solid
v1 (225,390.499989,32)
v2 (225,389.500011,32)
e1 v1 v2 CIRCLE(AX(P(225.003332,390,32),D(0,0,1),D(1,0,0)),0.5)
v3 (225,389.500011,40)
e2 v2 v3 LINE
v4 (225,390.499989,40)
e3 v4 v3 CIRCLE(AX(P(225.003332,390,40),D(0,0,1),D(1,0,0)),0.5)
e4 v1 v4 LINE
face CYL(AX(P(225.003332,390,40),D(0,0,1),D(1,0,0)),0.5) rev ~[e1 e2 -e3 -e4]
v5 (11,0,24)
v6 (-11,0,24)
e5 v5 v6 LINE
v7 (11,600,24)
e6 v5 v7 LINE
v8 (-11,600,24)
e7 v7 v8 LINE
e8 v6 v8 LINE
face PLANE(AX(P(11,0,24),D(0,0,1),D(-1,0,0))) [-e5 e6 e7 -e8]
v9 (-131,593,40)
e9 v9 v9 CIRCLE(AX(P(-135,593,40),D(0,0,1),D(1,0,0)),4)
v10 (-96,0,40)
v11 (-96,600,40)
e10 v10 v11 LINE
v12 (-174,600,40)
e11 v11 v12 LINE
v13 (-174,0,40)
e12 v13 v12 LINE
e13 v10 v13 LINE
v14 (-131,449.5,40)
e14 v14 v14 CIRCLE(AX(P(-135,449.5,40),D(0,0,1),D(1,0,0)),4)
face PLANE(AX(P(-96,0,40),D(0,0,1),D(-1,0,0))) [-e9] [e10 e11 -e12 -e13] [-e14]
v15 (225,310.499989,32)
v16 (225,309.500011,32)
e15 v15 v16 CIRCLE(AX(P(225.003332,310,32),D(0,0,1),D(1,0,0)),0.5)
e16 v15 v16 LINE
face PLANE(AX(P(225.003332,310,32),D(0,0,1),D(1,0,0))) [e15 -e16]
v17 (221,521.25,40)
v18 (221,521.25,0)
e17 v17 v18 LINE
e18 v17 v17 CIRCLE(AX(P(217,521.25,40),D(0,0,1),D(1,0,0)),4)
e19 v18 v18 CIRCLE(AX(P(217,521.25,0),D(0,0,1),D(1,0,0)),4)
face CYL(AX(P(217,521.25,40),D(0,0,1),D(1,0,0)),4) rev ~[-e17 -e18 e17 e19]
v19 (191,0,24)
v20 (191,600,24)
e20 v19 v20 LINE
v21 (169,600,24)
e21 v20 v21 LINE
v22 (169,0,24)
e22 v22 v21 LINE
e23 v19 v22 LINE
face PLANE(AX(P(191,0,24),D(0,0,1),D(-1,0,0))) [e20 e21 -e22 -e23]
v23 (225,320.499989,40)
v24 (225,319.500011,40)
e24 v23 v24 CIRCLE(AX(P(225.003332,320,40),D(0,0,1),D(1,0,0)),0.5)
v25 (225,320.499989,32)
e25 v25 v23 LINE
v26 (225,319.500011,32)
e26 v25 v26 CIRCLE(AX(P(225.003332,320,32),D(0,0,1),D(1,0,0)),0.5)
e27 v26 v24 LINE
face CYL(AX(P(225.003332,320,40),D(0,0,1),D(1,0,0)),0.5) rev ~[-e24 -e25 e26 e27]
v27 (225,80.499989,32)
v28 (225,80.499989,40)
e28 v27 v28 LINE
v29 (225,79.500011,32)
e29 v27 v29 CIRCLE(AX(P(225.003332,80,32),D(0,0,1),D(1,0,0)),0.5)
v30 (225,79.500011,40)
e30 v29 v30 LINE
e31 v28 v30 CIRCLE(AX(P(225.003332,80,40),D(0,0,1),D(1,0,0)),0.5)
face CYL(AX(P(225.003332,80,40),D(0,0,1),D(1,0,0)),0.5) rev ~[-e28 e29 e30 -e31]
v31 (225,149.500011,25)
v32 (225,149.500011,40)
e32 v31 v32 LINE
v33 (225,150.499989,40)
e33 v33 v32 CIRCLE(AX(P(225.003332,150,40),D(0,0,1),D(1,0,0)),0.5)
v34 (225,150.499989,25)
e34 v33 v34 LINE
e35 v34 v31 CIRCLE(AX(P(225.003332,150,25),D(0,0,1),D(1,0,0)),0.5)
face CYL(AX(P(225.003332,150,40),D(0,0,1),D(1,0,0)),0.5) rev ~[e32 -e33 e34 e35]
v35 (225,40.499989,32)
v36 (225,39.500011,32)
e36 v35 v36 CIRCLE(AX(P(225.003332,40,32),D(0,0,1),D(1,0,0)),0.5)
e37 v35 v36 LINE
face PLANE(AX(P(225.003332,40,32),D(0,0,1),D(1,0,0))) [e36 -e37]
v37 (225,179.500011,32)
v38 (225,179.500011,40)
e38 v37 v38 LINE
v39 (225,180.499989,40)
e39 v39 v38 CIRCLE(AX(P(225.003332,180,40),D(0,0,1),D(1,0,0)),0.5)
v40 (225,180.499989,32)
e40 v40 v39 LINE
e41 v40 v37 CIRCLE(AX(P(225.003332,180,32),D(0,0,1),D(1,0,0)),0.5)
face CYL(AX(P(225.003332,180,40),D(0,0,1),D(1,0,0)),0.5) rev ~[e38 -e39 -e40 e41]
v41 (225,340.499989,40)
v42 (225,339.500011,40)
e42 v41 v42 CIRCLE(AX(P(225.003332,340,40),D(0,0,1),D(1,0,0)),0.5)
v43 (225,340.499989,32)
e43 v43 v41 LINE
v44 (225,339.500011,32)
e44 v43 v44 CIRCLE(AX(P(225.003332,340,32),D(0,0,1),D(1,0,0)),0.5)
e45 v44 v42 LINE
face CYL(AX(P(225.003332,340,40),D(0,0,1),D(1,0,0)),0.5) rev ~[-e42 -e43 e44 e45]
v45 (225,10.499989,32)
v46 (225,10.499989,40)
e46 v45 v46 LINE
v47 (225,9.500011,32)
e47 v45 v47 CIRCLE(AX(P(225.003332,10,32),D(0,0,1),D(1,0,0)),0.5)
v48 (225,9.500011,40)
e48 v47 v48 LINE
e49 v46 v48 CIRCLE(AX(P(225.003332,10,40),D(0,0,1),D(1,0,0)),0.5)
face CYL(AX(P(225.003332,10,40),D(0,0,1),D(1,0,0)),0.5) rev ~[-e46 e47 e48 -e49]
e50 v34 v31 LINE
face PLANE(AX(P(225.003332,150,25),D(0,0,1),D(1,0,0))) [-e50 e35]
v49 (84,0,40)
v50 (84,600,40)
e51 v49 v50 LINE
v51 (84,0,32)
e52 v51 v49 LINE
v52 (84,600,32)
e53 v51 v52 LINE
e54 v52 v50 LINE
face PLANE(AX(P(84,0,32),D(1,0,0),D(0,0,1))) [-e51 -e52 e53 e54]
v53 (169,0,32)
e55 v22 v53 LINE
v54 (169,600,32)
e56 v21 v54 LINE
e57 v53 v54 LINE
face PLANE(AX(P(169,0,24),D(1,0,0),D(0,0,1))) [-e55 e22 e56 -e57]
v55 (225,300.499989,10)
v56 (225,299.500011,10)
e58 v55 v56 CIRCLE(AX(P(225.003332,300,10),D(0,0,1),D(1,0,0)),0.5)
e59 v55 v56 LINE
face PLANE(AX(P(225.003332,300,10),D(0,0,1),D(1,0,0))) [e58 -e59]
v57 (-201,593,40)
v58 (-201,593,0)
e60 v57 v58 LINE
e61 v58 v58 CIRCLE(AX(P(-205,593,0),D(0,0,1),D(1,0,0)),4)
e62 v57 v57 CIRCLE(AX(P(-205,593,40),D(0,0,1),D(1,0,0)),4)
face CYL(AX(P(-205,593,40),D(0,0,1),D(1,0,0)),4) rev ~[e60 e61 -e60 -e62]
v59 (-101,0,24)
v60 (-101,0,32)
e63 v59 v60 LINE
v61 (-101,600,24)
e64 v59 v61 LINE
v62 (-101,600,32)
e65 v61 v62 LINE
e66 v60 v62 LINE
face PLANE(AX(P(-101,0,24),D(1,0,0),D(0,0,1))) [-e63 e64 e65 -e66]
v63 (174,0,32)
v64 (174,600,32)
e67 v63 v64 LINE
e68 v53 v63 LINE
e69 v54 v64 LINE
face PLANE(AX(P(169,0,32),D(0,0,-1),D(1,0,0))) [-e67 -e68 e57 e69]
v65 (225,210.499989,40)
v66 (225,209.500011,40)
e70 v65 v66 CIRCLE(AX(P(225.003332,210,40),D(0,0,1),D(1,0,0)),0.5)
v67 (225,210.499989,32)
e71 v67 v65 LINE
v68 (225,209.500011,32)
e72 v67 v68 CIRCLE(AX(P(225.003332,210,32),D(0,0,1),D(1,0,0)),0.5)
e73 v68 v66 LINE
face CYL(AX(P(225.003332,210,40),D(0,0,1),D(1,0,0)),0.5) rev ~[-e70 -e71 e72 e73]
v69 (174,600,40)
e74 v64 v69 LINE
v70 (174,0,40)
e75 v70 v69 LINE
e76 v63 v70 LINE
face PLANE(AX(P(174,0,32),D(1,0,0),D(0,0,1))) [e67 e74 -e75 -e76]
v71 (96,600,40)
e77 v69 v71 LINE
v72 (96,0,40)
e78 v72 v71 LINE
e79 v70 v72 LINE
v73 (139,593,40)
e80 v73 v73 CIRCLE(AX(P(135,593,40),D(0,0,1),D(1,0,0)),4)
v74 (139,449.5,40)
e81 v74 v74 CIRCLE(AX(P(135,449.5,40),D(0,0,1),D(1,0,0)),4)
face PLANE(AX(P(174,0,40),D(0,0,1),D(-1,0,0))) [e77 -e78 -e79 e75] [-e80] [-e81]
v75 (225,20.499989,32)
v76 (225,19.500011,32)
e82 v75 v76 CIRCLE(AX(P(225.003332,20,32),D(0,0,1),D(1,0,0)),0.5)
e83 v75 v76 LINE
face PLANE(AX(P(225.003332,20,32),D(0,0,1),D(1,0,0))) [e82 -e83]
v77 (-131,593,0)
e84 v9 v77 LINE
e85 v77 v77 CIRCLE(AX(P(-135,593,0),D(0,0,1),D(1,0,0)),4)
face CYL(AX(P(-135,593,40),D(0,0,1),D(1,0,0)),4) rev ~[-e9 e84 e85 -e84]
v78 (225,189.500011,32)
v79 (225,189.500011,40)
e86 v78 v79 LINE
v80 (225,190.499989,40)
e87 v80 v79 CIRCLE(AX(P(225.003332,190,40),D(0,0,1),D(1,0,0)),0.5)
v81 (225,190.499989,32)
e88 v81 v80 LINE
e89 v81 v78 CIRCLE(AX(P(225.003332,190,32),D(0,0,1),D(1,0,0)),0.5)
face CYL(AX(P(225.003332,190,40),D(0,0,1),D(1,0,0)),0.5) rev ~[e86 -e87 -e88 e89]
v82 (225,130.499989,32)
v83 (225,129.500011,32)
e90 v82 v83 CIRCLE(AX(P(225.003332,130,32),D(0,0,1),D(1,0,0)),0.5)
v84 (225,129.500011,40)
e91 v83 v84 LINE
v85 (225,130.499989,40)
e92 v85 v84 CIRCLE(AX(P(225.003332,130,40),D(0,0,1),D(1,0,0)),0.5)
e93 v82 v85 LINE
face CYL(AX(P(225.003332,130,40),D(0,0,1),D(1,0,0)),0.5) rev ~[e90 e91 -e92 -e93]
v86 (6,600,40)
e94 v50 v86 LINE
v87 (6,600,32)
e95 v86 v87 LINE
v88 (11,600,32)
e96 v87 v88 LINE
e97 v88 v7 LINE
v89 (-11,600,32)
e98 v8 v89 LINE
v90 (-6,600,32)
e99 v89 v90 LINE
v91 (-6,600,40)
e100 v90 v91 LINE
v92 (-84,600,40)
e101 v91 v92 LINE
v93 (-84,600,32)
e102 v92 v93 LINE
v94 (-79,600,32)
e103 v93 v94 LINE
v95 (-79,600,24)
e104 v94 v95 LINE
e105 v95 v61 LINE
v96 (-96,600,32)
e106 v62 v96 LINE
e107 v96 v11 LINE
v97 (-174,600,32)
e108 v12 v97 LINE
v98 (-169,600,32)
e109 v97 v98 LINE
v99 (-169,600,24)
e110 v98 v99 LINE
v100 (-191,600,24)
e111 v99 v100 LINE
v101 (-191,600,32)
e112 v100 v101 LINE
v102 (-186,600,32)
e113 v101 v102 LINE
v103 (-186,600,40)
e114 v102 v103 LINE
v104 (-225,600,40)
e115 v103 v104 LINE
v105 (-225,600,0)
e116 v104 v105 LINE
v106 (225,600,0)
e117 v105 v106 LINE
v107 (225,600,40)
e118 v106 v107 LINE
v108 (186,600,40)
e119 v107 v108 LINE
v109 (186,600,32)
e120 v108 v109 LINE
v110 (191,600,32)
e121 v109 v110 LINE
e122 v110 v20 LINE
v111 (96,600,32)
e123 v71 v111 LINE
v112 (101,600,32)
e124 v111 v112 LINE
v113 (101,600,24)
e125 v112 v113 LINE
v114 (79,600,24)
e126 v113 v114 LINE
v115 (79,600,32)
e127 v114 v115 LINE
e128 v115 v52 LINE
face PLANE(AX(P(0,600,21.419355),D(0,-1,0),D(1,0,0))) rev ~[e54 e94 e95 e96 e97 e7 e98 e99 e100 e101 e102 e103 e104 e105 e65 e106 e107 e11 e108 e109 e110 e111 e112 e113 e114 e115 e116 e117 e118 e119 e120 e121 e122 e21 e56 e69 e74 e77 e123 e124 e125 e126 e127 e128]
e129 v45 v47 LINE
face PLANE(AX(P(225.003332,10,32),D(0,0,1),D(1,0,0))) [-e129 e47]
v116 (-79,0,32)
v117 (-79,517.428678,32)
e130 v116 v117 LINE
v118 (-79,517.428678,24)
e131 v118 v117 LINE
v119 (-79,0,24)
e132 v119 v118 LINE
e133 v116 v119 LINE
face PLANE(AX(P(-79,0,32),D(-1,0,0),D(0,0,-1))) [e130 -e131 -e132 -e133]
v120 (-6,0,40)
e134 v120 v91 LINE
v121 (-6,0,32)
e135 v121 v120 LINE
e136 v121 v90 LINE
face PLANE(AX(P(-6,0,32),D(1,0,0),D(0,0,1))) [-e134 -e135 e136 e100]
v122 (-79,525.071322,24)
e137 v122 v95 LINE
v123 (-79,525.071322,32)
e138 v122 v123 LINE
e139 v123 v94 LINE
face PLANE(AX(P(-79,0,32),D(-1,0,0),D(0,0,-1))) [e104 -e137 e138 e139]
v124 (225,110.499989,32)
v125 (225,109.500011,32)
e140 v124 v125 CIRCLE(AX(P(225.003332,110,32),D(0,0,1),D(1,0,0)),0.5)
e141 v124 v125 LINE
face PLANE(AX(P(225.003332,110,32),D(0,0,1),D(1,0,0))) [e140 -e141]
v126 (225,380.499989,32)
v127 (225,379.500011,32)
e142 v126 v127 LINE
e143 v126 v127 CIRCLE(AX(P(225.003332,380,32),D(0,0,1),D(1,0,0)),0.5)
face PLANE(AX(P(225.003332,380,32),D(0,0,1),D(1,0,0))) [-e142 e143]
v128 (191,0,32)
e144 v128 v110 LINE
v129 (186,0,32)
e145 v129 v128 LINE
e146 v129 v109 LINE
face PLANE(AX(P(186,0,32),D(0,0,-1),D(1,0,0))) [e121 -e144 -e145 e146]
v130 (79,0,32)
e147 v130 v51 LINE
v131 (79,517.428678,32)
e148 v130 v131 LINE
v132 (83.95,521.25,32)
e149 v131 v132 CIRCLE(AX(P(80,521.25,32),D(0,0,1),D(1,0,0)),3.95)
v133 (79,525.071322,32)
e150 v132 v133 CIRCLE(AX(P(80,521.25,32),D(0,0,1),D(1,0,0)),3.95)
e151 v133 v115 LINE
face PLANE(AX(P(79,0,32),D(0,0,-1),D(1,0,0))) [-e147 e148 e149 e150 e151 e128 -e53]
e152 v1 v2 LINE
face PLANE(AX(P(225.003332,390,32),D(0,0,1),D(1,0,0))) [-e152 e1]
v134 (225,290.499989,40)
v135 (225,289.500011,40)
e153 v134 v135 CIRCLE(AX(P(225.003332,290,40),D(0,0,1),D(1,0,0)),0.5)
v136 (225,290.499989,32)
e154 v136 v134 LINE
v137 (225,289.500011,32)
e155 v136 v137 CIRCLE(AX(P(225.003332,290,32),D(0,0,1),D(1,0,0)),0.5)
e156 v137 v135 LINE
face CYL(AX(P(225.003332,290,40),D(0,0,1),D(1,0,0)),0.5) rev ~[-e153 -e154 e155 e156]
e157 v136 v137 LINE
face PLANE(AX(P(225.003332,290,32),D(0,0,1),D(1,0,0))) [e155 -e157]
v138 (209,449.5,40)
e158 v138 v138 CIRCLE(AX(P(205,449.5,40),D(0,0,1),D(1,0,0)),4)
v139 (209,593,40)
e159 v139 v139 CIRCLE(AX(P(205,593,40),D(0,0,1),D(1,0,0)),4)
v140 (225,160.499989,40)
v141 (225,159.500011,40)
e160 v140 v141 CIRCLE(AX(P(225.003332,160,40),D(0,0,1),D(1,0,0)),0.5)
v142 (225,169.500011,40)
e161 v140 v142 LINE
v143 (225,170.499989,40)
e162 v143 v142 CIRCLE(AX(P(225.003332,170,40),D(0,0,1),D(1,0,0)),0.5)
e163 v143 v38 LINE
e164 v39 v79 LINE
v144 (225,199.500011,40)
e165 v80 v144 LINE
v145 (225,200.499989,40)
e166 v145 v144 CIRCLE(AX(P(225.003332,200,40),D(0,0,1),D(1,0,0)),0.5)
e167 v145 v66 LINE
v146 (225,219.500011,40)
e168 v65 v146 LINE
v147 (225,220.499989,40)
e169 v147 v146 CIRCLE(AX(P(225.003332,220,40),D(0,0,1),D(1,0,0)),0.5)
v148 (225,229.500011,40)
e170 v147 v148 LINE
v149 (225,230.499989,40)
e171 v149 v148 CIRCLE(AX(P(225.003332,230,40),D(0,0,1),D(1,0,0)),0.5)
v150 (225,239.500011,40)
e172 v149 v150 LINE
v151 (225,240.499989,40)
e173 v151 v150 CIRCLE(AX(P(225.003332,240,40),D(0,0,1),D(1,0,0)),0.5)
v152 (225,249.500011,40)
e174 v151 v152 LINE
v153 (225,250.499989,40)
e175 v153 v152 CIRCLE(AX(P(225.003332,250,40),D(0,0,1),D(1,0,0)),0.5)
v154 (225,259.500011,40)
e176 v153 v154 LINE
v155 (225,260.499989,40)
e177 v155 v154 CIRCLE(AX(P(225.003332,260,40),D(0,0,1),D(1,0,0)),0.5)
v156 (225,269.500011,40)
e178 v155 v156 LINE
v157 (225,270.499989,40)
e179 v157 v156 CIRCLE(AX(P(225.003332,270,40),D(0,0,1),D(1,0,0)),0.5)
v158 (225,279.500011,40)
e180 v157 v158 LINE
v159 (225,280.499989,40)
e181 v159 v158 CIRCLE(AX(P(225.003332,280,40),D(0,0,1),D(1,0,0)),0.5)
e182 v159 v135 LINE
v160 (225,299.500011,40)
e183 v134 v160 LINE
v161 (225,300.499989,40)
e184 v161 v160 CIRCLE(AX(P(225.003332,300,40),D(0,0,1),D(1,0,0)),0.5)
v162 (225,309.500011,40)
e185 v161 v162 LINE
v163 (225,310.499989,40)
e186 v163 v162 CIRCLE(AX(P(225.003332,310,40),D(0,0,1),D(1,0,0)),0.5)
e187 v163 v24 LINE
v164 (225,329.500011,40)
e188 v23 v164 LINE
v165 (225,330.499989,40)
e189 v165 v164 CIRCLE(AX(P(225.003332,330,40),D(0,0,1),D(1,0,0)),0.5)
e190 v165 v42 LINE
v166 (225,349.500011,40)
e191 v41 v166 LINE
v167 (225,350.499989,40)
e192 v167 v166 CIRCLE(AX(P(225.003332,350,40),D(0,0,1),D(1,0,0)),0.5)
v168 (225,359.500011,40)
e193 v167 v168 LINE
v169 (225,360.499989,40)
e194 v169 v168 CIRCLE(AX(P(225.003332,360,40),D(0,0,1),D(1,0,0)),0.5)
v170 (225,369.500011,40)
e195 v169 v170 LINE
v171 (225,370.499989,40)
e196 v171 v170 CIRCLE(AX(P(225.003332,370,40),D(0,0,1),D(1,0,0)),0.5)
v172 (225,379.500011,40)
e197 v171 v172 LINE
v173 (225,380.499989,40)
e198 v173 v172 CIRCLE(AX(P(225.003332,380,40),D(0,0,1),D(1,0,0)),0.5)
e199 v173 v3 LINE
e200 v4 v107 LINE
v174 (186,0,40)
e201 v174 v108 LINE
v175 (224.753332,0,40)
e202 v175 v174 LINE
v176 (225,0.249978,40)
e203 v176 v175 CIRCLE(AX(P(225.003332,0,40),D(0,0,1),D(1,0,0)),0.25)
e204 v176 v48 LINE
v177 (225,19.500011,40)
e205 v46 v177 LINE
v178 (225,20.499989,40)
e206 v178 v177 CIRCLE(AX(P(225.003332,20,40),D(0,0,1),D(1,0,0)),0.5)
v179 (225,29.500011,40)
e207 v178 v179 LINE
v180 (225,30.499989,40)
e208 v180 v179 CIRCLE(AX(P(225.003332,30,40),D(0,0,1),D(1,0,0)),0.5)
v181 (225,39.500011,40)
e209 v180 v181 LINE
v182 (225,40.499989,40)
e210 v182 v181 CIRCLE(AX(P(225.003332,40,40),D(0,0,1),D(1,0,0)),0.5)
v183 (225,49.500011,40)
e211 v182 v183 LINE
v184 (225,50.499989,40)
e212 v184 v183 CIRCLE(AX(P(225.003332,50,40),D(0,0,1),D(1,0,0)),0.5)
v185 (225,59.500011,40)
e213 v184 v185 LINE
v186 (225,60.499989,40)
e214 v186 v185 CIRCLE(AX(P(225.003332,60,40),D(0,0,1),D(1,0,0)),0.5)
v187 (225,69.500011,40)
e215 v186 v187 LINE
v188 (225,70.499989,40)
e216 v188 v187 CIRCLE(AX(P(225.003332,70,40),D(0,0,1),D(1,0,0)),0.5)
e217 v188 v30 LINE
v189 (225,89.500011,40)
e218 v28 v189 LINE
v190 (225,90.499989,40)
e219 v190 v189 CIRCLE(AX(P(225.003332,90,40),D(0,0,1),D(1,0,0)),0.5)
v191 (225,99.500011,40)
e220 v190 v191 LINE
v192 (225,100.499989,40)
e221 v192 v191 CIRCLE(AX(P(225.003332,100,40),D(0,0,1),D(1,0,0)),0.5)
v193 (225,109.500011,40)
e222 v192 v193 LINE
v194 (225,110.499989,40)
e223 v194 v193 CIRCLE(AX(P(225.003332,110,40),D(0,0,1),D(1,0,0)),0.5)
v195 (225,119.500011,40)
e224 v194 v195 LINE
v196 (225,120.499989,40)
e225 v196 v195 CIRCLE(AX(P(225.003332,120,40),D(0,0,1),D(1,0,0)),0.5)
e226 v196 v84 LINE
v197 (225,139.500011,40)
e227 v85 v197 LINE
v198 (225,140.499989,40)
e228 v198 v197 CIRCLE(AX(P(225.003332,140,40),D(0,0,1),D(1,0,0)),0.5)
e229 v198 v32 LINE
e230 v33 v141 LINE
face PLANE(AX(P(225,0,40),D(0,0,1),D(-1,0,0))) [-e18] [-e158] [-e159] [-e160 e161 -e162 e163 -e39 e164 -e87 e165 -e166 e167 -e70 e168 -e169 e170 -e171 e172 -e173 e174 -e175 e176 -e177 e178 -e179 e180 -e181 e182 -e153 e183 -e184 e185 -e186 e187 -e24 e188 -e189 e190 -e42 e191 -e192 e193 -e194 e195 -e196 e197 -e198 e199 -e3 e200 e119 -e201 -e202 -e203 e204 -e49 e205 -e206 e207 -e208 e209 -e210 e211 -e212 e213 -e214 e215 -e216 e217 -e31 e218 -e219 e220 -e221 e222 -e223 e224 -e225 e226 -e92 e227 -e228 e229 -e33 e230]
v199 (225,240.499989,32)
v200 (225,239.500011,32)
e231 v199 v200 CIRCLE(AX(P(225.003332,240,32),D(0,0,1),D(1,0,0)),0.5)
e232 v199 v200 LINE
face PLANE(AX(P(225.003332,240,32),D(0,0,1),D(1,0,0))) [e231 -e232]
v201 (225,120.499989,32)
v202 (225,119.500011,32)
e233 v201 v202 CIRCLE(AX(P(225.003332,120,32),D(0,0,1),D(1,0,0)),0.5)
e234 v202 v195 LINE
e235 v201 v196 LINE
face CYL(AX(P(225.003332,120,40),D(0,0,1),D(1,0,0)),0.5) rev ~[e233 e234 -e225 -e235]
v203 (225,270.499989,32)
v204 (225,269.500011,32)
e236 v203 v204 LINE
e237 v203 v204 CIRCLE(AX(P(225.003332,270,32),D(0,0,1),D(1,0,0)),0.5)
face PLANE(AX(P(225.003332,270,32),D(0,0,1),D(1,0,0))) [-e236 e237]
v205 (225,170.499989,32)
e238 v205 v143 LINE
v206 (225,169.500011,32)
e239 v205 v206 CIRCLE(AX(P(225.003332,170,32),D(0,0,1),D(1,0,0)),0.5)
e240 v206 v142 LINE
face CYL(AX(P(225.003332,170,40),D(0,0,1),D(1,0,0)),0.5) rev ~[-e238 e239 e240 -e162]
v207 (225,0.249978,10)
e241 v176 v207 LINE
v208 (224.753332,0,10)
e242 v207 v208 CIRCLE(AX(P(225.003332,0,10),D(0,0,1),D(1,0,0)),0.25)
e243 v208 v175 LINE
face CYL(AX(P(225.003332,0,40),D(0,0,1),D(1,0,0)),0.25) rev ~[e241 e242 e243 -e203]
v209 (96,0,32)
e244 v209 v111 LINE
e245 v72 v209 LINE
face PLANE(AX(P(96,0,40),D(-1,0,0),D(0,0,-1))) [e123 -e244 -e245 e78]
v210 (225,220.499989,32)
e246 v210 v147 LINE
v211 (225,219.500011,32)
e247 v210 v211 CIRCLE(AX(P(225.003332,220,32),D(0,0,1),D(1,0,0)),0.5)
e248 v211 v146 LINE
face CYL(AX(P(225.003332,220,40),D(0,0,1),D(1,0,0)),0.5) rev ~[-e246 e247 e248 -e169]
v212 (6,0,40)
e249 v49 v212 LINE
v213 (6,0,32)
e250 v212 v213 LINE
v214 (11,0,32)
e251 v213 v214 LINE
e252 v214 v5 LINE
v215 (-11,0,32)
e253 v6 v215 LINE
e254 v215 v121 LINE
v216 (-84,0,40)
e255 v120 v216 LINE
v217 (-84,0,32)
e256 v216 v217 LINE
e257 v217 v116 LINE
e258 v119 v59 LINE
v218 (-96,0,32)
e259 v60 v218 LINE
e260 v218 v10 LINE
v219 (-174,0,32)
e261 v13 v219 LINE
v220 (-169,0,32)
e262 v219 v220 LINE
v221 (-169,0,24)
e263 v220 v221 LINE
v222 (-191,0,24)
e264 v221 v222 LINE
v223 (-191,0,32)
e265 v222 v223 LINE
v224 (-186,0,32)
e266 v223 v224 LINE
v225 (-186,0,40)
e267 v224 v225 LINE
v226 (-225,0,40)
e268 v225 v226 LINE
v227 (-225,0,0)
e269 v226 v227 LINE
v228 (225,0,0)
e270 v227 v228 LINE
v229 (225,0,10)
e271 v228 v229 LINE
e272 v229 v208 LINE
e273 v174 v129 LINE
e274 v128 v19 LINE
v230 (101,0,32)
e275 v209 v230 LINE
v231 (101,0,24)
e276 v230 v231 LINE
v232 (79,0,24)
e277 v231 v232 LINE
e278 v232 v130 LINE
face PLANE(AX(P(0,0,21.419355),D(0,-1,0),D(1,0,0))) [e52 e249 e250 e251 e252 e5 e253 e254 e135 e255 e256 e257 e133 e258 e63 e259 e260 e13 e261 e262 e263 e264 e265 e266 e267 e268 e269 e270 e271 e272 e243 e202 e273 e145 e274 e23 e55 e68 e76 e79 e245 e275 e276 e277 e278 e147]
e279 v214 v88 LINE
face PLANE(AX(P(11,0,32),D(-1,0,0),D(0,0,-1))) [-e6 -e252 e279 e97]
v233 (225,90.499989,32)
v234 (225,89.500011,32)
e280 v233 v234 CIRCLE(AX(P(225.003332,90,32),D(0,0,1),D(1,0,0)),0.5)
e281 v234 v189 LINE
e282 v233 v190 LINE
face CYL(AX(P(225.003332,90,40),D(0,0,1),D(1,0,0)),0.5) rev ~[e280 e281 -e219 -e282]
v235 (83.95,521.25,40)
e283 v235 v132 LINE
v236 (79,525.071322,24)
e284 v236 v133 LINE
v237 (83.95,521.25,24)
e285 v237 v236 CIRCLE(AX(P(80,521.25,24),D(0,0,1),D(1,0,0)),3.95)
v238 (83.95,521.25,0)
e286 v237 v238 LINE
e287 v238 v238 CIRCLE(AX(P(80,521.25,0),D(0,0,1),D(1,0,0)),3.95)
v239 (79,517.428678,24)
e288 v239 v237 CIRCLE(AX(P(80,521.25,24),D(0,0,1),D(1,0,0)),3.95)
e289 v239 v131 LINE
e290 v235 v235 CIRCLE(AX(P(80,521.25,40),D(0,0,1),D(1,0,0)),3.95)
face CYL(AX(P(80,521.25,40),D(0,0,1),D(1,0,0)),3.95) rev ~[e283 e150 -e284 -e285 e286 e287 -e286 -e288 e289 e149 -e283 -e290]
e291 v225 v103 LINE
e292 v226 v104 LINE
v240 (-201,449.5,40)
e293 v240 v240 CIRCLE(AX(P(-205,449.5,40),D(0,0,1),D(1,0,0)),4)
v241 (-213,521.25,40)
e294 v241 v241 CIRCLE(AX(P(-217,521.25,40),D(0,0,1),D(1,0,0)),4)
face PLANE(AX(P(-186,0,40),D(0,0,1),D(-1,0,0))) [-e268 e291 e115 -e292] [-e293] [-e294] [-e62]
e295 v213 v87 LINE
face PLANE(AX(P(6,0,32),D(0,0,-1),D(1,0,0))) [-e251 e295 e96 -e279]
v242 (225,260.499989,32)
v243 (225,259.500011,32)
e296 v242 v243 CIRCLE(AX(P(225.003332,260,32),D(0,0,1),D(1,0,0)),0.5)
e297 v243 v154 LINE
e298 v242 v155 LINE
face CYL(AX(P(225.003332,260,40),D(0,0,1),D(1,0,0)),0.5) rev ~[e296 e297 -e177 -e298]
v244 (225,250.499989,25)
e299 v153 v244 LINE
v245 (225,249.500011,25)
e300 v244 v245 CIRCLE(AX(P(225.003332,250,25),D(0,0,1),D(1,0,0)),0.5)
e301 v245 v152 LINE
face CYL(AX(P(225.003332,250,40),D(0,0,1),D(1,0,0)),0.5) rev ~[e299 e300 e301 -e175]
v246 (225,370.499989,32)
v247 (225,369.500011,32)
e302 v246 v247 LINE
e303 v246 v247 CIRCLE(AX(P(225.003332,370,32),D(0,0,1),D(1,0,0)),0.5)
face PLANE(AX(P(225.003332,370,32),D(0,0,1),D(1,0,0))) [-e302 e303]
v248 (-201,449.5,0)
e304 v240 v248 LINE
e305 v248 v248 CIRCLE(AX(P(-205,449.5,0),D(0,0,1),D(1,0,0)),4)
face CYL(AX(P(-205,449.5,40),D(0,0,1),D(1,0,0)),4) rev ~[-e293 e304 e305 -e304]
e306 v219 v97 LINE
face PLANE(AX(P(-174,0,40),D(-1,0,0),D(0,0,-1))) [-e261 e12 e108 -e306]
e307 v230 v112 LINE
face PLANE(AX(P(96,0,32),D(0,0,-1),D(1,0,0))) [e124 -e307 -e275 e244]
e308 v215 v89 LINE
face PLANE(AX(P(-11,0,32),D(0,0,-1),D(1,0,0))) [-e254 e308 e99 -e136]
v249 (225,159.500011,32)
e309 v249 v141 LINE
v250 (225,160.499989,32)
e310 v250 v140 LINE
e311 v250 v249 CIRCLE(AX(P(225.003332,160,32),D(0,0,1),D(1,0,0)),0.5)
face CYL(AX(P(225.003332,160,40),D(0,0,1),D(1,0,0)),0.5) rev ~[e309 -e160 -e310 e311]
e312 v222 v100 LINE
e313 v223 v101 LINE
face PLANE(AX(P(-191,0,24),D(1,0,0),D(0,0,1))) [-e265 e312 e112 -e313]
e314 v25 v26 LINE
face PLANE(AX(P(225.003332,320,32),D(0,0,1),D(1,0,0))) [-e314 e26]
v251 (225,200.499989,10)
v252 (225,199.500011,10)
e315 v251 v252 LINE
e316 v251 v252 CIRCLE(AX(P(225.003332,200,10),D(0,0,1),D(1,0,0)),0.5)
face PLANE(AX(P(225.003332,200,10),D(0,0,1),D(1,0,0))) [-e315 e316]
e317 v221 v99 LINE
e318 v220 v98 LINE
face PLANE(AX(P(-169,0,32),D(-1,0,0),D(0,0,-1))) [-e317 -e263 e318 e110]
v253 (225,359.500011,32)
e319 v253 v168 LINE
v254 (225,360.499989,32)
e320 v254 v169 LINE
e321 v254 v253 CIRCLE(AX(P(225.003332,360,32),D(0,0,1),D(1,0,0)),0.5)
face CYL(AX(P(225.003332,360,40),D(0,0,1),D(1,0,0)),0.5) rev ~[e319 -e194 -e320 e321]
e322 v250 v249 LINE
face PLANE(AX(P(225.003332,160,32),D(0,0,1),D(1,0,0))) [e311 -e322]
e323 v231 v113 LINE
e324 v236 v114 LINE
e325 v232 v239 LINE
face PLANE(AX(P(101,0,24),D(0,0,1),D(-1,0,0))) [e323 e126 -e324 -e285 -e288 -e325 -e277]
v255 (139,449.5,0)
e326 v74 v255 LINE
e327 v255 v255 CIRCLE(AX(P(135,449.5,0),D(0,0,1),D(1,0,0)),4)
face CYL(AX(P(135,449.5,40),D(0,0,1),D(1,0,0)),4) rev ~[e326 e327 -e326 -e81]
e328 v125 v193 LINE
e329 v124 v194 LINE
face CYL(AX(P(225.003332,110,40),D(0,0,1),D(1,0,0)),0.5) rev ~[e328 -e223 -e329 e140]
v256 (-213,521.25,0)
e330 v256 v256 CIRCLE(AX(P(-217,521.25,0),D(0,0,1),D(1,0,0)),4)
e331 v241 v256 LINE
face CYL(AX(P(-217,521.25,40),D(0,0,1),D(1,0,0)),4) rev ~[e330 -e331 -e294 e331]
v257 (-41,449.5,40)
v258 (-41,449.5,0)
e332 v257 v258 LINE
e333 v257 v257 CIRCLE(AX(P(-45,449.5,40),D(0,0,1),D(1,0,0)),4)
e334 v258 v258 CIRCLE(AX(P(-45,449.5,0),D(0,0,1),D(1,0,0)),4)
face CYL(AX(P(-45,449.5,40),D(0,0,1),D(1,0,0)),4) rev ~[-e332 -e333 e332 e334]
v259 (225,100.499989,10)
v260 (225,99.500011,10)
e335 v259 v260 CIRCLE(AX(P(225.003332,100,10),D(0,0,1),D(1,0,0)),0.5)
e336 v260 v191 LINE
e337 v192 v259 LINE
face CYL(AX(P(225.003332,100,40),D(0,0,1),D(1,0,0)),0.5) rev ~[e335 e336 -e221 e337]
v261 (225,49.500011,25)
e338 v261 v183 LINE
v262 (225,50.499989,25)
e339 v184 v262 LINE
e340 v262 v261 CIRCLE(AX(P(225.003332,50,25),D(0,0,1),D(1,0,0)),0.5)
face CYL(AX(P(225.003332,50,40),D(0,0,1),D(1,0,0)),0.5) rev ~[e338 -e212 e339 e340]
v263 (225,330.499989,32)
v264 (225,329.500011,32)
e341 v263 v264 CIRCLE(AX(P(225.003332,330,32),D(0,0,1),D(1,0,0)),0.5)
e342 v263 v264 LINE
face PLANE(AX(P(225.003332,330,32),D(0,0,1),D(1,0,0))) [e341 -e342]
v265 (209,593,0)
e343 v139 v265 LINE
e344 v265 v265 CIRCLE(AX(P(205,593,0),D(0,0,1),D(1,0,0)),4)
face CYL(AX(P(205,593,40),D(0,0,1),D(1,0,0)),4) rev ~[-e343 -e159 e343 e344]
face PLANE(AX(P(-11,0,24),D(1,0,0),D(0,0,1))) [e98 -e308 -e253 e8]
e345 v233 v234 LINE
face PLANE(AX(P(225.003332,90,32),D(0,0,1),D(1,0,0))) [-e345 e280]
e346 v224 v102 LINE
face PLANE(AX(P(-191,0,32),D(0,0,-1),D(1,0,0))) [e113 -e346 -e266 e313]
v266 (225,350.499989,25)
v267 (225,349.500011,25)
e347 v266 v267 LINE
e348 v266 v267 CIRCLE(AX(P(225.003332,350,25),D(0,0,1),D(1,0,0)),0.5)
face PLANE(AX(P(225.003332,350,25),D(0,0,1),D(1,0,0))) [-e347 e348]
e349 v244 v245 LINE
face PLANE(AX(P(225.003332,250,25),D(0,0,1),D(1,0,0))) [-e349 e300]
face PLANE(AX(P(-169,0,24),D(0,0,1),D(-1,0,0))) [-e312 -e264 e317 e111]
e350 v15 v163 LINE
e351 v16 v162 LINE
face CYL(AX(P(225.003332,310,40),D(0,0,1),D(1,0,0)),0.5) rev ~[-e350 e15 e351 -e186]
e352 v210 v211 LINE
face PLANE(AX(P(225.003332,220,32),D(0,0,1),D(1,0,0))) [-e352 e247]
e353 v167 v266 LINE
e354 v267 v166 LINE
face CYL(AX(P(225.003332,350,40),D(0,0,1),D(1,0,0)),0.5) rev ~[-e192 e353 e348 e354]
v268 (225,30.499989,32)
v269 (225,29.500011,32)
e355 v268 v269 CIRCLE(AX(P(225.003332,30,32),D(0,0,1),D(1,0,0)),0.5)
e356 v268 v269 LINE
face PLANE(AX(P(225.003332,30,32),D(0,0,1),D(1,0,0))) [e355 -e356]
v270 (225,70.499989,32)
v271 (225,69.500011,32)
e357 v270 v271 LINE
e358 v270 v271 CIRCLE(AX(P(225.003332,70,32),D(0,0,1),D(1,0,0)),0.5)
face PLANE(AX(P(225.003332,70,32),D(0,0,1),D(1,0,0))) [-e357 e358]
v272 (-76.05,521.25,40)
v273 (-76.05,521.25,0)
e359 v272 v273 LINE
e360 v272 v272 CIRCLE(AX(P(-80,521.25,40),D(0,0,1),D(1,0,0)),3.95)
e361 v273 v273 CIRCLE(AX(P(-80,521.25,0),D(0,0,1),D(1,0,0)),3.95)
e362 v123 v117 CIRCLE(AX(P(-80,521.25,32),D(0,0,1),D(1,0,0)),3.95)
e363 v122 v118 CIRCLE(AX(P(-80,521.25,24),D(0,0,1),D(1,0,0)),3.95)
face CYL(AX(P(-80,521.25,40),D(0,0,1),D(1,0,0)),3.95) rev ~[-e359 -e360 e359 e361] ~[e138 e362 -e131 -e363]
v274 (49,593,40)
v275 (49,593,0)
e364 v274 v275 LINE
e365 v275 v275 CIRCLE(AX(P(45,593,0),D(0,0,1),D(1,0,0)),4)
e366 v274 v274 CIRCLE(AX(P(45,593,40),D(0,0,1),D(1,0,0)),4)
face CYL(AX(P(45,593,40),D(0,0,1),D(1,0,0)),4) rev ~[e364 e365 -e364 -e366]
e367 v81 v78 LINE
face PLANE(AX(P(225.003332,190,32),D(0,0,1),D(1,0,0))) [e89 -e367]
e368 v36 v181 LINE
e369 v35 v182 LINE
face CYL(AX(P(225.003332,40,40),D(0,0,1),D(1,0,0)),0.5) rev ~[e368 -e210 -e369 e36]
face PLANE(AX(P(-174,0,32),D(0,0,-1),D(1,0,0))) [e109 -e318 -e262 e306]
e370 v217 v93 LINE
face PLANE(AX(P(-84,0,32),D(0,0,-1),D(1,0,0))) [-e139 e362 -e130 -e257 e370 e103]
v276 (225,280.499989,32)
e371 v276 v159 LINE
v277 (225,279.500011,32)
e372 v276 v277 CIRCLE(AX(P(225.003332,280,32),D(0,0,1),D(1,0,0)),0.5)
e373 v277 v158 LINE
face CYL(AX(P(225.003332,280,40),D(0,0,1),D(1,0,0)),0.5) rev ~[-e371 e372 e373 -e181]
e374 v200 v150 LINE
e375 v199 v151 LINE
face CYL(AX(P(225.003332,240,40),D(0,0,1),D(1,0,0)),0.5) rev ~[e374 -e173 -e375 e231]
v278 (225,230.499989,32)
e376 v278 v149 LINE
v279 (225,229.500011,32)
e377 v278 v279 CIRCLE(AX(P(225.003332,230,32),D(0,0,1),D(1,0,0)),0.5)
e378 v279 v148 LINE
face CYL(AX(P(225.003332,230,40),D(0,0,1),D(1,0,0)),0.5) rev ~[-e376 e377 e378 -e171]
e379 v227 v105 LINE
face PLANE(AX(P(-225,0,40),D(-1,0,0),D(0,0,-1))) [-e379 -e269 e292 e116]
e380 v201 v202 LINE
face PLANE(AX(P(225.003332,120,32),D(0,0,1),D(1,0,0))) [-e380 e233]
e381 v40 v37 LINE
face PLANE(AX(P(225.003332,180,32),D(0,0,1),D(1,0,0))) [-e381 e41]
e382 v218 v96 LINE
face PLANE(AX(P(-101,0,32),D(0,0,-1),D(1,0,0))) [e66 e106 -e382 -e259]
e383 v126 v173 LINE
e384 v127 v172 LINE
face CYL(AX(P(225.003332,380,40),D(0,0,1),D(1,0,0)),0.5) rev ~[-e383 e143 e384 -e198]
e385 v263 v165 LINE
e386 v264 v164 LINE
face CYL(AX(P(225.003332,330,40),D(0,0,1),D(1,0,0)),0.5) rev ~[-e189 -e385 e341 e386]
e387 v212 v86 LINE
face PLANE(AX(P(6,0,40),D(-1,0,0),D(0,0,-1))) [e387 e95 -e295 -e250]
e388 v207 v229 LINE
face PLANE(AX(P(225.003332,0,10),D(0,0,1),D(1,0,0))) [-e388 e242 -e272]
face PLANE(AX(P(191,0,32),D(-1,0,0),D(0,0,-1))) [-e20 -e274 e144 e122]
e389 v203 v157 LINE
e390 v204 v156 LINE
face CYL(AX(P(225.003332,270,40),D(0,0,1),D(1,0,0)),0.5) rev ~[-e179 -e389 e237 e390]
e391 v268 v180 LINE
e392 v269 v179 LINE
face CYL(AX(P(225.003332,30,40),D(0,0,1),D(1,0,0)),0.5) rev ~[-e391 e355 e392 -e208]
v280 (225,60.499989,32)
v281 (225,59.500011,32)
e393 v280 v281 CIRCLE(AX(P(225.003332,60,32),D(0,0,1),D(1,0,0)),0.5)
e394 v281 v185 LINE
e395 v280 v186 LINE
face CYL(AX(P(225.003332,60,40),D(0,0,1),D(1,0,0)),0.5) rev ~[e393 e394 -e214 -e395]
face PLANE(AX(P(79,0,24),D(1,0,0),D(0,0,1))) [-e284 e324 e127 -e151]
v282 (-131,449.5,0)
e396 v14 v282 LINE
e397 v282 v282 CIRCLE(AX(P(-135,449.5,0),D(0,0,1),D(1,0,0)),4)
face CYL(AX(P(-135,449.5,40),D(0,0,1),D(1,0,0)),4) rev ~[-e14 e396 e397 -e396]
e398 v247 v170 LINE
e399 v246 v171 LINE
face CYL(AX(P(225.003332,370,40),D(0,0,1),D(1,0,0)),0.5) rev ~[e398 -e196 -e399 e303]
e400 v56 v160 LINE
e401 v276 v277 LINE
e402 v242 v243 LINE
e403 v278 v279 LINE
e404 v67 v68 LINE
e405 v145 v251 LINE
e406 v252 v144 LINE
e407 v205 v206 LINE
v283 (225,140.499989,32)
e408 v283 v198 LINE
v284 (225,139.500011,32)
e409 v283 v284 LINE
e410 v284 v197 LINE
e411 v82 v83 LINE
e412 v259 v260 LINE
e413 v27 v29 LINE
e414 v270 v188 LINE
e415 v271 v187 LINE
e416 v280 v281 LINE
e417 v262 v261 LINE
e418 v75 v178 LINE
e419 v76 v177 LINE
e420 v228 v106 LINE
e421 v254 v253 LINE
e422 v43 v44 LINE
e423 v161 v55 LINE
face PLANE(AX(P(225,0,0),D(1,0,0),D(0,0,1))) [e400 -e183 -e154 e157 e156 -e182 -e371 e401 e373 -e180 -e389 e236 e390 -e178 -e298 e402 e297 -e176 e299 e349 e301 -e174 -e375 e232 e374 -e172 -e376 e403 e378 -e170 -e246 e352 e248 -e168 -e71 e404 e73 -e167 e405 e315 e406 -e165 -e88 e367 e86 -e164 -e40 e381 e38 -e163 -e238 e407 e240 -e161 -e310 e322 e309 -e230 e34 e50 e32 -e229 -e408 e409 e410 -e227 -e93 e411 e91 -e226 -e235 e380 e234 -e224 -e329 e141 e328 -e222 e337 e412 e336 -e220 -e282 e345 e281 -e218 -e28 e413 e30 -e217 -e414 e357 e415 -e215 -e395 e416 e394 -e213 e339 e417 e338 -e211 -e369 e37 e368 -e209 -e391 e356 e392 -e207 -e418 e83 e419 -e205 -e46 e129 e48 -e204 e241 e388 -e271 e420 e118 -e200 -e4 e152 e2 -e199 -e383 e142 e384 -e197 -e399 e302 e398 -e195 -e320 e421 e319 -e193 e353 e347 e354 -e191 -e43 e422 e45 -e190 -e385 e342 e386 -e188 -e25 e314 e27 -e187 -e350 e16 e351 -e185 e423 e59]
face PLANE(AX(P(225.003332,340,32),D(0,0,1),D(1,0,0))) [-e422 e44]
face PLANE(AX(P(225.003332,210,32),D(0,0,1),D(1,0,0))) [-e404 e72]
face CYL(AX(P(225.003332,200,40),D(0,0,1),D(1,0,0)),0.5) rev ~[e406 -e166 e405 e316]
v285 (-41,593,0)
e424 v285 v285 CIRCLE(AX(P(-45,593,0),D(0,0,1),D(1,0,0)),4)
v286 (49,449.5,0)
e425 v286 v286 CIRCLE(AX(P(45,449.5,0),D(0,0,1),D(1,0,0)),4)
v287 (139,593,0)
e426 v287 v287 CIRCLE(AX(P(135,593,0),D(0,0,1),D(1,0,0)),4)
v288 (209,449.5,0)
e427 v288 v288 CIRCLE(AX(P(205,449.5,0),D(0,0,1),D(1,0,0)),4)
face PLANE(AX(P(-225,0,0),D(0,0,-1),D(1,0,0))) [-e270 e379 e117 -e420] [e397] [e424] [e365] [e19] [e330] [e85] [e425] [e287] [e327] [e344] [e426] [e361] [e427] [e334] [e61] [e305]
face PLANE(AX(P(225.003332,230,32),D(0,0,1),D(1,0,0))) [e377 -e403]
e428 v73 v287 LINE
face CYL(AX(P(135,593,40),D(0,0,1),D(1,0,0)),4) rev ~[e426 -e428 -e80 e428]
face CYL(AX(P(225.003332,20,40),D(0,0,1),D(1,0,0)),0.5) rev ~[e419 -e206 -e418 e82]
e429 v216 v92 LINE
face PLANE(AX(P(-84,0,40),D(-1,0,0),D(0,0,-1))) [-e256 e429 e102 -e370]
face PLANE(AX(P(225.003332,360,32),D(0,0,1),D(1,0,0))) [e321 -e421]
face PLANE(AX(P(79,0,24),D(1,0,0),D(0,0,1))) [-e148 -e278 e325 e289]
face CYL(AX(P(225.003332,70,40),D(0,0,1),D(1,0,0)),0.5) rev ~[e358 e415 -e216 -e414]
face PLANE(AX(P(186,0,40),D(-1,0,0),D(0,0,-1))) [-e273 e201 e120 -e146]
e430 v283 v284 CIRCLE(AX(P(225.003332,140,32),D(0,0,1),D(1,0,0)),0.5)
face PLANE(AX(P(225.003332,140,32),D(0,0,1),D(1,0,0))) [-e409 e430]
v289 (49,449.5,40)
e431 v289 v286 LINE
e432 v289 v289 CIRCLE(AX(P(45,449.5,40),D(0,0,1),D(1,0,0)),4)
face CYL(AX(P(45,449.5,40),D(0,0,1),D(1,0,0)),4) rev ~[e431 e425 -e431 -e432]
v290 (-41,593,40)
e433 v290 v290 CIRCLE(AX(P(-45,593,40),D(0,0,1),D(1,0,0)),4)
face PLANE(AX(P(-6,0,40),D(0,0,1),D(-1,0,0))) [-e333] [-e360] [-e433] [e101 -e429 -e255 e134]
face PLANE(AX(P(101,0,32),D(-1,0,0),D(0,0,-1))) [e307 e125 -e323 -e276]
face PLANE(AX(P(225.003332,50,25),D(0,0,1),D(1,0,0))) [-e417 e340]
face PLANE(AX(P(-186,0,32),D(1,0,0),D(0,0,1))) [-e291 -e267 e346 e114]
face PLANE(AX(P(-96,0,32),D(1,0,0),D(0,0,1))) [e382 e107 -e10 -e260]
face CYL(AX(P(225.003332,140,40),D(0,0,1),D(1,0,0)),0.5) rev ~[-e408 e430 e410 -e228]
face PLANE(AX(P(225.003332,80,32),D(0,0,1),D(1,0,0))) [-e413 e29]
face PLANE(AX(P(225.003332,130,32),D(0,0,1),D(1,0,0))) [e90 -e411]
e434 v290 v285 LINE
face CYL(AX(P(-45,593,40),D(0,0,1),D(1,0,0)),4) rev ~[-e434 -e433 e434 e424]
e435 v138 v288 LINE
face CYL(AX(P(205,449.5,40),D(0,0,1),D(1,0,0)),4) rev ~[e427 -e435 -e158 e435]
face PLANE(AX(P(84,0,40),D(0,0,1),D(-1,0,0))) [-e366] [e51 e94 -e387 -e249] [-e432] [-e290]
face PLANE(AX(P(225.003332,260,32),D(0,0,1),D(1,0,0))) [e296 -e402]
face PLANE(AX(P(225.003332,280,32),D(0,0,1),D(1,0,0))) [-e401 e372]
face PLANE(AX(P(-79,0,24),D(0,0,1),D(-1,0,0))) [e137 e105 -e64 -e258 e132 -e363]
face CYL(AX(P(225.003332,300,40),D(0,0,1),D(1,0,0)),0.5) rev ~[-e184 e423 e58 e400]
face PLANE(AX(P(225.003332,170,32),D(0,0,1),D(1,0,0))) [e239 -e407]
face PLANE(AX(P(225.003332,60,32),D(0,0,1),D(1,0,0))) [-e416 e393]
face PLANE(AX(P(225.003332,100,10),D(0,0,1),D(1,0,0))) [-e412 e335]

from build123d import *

# Parameters (mm, degrees)
F1_DEPTH = 600
F2_R     = 0.25
F2_R_2   = 0.5
F3_DEPTH = 8
F4_DEPTH = 15
F5_DEPTH = 30
F2_R_3   = 4
F2_R_4   = 3.95
F6_DEPTH = 40.001


with BuildPart() as f1:
    # F0 (on Front) → F1 (new body)
    with BuildSketch(Plane.XZ):
        Polygon((-225, 40), (-225, 0), (225, 0), (225, 40), (186, 40), (186, 32), (191, 32), (191, 24), (169, 24), (169, 32), (174, 32), (174, 40), (96, 40), (96, 32), (101, 32), (101, 24), (79, 24), (79, 32), (84, 32), (84, 40), (6, 40), (6, 32), (11, 32), (11, 24), (-11, 24), (-11, 32), (-6, 32), (-6, 40), (-84, 40), (-84, 32), (-79, 32), (-79, 24), (-101, 24), (-101, 32), (-96, 32), (-96, 40), (-174, 40), (-174, 32), (-169, 32), (-169, 24), (-191, 24), (-191, 32), (-186, 32), (-186, 40), align=None)
    extrude(amount=-F1_DEPTH)

    # F2 (on face) → F3 (cut)
    with BuildSketch(Plane.XY.offset(40)):
        with Locations((225.003332, 0)):
            Circle(F2_R)
        with Locations((225.003332, 10)):
            Circle(F2_R_2)
        with Locations((225.003332, 20)):
            Circle(F2_R_2)
        with Locations((225.003332, 30)):
            Circle(F2_R_2)
        with Locations((225.003332, 40)):
            Circle(F2_R_2)
        with Locations((225.003332, 50)):
            Circle(F2_R_2)
        with Locations((225.003332, 60)):
            Circle(F2_R_2)
        with Locations((225.003332, 70)):
            Circle(F2_R_2)
        with Locations((225.003332, 80)):
            Circle(F2_R_2)
        with Locations((225.003332, 90)):
            Circle(F2_R_2)
        with Locations((225.003332, 100)):
            Circle(F2_R_2)
        with Locations((225.003332, 110)):
            Circle(F2_R_2)
        with Locations((225.003332, 120)):
            Circle(F2_R_2)
        with Locations((225.003332, 130)):
            Circle(F2_R_2)
        with Locations((225.003332, 140)):
            Circle(F2_R_2)
        with Locations((225.003332, 150)):
            Circle(F2_R_2)
        with Locations((225.003332, 160)):
            Circle(F2_R_2)
        with Locations((225.003332, 170)):
            Circle(F2_R_2)
        with Locations((225.003332, 180)):
            Circle(F2_R_2)
        with Locations((225.003332, 190)):
            Circle(F2_R_2)
        with Locations((225.003332, 200)):
            Circle(F2_R_2)
        with Locations((225.003332, 210)):
            Circle(F2_R_2)
        with Locations((225.003332, 220)):
            Circle(F2_R_2)
        with Locations((225.003332, 230)):
            Circle(F2_R_2)
        with Locations((225.003332, 240)):
            Circle(F2_R_2)
        with Locations((225.003332, 250)):
            Circle(F2_R_2)
        with Locations((225.003332, 260)):
            Circle(F2_R_2)
        with Locations((225.003332, 270)):
            Circle(F2_R_2)
        with Locations((225.003332, 280)):
            Circle(F2_R_2)
        with Locations((225.003332, 290)):
            Circle(F2_R_2)
        with Locations((225.003332, 300)):
            Circle(F2_R_2)
        with Locations((225.003332, 310)):
            Circle(F2_R_2)
        with Locations((225.003332, 320)):
            Circle(F2_R_2)
        with Locations((225.003332, 330)):
            Circle(F2_R_2)
        with Locations((225.003332, 340)):
            Circle(F2_R_2)
        with Locations((225.003332, 350)):
            Circle(F2_R_2)
        with Locations((225.003332, 360)):
            Circle(F2_R_2)
        with Locations((225.003332, 370)):
            Circle(F2_R_2)
        with Locations((225.003332, 380)):
            Circle(F2_R_2)
        with Locations((225.003332, 390)):
            Circle(F2_R_2)
    extrude(amount=-F3_DEPTH, mode=Mode.SUBTRACT)

    # F2 (on face) → F4 (cut)
    with BuildSketch(Plane.XY.offset(40)):
        with Locations((225.003332, 50)):
            Circle(F2_R_2)
        with Locations((225.003332, 100)):
            Circle(F2_R_2)
        with Locations((225.003332, 150)):
            Circle(F2_R_2)
        with Locations((225.003332, 200)):
            Circle(F2_R_2)
        with Locations((225.003332, 250)):
            Circle(F2_R_2)
        with Locations((225.003332, 300)):
            Circle(F2_R_2)
        with Locations((225.003332, 350)):
            Circle(F2_R_2)
    extrude(amount=-F4_DEPTH, mode=Mode.SUBTRACT)

    # F2 (on face) → F5 (cut)
    with BuildSketch(Plane.XY.offset(40)):
        with Locations((225.003332, 0)):
            Circle(F2_R)
        with Locations((225.003332, 100)):
            Circle(F2_R_2)
        with Locations((225.003332, 200)):
            Circle(F2_R_2)
        with Locations((225.003332, 300)):
            Circle(F2_R_2)
    extrude(amount=-F5_DEPTH, mode=Mode.SUBTRACT)

    # F2 (on face) → F6 (cut, through all)
    with BuildSketch(Plane.XY.offset(40)):
        with Locations((-45, 593)):
            Circle(F2_R_3)
        with Locations((-135, 593)):
            Circle(F2_R_3)
        with Locations((-205, 593)):
            Circle(F2_R_3)
        with Locations((-217, 521.25)):
            Circle(F2_R_3)
        with Locations((-205, 449.5)):
            Circle(F2_R_3)
        with Locations((-45, 449.5)):
            Circle(F2_R_3)
        with Locations((-135, 449.5)):
            Circle(F2_R_3)
        with Locations((45, 593)):
            Circle(F2_R_3)
        with Locations((135, 593)):
            Circle(F2_R_3)
        with Locations((205, 593)):
            Circle(F2_R_3)
        with Locations((217, 521.25)):
            Circle(F2_R_3)
        with Locations((45, 449.5)):
            Circle(F2_R_3)
        with Locations((205, 449.5)):
            Circle(F2_R_3)
        with Locations((135, 449.5)):
            Circle(F2_R_3)
        with Locations((80, 521.25)):
            Circle(F2_R_4)
        with Locations((-80, 521.25)):
            Circle(F2_R_4)
    extrude(amount=-F6_DEPTH, mode=Mode.SUBTRACT)


solid = f1.part
